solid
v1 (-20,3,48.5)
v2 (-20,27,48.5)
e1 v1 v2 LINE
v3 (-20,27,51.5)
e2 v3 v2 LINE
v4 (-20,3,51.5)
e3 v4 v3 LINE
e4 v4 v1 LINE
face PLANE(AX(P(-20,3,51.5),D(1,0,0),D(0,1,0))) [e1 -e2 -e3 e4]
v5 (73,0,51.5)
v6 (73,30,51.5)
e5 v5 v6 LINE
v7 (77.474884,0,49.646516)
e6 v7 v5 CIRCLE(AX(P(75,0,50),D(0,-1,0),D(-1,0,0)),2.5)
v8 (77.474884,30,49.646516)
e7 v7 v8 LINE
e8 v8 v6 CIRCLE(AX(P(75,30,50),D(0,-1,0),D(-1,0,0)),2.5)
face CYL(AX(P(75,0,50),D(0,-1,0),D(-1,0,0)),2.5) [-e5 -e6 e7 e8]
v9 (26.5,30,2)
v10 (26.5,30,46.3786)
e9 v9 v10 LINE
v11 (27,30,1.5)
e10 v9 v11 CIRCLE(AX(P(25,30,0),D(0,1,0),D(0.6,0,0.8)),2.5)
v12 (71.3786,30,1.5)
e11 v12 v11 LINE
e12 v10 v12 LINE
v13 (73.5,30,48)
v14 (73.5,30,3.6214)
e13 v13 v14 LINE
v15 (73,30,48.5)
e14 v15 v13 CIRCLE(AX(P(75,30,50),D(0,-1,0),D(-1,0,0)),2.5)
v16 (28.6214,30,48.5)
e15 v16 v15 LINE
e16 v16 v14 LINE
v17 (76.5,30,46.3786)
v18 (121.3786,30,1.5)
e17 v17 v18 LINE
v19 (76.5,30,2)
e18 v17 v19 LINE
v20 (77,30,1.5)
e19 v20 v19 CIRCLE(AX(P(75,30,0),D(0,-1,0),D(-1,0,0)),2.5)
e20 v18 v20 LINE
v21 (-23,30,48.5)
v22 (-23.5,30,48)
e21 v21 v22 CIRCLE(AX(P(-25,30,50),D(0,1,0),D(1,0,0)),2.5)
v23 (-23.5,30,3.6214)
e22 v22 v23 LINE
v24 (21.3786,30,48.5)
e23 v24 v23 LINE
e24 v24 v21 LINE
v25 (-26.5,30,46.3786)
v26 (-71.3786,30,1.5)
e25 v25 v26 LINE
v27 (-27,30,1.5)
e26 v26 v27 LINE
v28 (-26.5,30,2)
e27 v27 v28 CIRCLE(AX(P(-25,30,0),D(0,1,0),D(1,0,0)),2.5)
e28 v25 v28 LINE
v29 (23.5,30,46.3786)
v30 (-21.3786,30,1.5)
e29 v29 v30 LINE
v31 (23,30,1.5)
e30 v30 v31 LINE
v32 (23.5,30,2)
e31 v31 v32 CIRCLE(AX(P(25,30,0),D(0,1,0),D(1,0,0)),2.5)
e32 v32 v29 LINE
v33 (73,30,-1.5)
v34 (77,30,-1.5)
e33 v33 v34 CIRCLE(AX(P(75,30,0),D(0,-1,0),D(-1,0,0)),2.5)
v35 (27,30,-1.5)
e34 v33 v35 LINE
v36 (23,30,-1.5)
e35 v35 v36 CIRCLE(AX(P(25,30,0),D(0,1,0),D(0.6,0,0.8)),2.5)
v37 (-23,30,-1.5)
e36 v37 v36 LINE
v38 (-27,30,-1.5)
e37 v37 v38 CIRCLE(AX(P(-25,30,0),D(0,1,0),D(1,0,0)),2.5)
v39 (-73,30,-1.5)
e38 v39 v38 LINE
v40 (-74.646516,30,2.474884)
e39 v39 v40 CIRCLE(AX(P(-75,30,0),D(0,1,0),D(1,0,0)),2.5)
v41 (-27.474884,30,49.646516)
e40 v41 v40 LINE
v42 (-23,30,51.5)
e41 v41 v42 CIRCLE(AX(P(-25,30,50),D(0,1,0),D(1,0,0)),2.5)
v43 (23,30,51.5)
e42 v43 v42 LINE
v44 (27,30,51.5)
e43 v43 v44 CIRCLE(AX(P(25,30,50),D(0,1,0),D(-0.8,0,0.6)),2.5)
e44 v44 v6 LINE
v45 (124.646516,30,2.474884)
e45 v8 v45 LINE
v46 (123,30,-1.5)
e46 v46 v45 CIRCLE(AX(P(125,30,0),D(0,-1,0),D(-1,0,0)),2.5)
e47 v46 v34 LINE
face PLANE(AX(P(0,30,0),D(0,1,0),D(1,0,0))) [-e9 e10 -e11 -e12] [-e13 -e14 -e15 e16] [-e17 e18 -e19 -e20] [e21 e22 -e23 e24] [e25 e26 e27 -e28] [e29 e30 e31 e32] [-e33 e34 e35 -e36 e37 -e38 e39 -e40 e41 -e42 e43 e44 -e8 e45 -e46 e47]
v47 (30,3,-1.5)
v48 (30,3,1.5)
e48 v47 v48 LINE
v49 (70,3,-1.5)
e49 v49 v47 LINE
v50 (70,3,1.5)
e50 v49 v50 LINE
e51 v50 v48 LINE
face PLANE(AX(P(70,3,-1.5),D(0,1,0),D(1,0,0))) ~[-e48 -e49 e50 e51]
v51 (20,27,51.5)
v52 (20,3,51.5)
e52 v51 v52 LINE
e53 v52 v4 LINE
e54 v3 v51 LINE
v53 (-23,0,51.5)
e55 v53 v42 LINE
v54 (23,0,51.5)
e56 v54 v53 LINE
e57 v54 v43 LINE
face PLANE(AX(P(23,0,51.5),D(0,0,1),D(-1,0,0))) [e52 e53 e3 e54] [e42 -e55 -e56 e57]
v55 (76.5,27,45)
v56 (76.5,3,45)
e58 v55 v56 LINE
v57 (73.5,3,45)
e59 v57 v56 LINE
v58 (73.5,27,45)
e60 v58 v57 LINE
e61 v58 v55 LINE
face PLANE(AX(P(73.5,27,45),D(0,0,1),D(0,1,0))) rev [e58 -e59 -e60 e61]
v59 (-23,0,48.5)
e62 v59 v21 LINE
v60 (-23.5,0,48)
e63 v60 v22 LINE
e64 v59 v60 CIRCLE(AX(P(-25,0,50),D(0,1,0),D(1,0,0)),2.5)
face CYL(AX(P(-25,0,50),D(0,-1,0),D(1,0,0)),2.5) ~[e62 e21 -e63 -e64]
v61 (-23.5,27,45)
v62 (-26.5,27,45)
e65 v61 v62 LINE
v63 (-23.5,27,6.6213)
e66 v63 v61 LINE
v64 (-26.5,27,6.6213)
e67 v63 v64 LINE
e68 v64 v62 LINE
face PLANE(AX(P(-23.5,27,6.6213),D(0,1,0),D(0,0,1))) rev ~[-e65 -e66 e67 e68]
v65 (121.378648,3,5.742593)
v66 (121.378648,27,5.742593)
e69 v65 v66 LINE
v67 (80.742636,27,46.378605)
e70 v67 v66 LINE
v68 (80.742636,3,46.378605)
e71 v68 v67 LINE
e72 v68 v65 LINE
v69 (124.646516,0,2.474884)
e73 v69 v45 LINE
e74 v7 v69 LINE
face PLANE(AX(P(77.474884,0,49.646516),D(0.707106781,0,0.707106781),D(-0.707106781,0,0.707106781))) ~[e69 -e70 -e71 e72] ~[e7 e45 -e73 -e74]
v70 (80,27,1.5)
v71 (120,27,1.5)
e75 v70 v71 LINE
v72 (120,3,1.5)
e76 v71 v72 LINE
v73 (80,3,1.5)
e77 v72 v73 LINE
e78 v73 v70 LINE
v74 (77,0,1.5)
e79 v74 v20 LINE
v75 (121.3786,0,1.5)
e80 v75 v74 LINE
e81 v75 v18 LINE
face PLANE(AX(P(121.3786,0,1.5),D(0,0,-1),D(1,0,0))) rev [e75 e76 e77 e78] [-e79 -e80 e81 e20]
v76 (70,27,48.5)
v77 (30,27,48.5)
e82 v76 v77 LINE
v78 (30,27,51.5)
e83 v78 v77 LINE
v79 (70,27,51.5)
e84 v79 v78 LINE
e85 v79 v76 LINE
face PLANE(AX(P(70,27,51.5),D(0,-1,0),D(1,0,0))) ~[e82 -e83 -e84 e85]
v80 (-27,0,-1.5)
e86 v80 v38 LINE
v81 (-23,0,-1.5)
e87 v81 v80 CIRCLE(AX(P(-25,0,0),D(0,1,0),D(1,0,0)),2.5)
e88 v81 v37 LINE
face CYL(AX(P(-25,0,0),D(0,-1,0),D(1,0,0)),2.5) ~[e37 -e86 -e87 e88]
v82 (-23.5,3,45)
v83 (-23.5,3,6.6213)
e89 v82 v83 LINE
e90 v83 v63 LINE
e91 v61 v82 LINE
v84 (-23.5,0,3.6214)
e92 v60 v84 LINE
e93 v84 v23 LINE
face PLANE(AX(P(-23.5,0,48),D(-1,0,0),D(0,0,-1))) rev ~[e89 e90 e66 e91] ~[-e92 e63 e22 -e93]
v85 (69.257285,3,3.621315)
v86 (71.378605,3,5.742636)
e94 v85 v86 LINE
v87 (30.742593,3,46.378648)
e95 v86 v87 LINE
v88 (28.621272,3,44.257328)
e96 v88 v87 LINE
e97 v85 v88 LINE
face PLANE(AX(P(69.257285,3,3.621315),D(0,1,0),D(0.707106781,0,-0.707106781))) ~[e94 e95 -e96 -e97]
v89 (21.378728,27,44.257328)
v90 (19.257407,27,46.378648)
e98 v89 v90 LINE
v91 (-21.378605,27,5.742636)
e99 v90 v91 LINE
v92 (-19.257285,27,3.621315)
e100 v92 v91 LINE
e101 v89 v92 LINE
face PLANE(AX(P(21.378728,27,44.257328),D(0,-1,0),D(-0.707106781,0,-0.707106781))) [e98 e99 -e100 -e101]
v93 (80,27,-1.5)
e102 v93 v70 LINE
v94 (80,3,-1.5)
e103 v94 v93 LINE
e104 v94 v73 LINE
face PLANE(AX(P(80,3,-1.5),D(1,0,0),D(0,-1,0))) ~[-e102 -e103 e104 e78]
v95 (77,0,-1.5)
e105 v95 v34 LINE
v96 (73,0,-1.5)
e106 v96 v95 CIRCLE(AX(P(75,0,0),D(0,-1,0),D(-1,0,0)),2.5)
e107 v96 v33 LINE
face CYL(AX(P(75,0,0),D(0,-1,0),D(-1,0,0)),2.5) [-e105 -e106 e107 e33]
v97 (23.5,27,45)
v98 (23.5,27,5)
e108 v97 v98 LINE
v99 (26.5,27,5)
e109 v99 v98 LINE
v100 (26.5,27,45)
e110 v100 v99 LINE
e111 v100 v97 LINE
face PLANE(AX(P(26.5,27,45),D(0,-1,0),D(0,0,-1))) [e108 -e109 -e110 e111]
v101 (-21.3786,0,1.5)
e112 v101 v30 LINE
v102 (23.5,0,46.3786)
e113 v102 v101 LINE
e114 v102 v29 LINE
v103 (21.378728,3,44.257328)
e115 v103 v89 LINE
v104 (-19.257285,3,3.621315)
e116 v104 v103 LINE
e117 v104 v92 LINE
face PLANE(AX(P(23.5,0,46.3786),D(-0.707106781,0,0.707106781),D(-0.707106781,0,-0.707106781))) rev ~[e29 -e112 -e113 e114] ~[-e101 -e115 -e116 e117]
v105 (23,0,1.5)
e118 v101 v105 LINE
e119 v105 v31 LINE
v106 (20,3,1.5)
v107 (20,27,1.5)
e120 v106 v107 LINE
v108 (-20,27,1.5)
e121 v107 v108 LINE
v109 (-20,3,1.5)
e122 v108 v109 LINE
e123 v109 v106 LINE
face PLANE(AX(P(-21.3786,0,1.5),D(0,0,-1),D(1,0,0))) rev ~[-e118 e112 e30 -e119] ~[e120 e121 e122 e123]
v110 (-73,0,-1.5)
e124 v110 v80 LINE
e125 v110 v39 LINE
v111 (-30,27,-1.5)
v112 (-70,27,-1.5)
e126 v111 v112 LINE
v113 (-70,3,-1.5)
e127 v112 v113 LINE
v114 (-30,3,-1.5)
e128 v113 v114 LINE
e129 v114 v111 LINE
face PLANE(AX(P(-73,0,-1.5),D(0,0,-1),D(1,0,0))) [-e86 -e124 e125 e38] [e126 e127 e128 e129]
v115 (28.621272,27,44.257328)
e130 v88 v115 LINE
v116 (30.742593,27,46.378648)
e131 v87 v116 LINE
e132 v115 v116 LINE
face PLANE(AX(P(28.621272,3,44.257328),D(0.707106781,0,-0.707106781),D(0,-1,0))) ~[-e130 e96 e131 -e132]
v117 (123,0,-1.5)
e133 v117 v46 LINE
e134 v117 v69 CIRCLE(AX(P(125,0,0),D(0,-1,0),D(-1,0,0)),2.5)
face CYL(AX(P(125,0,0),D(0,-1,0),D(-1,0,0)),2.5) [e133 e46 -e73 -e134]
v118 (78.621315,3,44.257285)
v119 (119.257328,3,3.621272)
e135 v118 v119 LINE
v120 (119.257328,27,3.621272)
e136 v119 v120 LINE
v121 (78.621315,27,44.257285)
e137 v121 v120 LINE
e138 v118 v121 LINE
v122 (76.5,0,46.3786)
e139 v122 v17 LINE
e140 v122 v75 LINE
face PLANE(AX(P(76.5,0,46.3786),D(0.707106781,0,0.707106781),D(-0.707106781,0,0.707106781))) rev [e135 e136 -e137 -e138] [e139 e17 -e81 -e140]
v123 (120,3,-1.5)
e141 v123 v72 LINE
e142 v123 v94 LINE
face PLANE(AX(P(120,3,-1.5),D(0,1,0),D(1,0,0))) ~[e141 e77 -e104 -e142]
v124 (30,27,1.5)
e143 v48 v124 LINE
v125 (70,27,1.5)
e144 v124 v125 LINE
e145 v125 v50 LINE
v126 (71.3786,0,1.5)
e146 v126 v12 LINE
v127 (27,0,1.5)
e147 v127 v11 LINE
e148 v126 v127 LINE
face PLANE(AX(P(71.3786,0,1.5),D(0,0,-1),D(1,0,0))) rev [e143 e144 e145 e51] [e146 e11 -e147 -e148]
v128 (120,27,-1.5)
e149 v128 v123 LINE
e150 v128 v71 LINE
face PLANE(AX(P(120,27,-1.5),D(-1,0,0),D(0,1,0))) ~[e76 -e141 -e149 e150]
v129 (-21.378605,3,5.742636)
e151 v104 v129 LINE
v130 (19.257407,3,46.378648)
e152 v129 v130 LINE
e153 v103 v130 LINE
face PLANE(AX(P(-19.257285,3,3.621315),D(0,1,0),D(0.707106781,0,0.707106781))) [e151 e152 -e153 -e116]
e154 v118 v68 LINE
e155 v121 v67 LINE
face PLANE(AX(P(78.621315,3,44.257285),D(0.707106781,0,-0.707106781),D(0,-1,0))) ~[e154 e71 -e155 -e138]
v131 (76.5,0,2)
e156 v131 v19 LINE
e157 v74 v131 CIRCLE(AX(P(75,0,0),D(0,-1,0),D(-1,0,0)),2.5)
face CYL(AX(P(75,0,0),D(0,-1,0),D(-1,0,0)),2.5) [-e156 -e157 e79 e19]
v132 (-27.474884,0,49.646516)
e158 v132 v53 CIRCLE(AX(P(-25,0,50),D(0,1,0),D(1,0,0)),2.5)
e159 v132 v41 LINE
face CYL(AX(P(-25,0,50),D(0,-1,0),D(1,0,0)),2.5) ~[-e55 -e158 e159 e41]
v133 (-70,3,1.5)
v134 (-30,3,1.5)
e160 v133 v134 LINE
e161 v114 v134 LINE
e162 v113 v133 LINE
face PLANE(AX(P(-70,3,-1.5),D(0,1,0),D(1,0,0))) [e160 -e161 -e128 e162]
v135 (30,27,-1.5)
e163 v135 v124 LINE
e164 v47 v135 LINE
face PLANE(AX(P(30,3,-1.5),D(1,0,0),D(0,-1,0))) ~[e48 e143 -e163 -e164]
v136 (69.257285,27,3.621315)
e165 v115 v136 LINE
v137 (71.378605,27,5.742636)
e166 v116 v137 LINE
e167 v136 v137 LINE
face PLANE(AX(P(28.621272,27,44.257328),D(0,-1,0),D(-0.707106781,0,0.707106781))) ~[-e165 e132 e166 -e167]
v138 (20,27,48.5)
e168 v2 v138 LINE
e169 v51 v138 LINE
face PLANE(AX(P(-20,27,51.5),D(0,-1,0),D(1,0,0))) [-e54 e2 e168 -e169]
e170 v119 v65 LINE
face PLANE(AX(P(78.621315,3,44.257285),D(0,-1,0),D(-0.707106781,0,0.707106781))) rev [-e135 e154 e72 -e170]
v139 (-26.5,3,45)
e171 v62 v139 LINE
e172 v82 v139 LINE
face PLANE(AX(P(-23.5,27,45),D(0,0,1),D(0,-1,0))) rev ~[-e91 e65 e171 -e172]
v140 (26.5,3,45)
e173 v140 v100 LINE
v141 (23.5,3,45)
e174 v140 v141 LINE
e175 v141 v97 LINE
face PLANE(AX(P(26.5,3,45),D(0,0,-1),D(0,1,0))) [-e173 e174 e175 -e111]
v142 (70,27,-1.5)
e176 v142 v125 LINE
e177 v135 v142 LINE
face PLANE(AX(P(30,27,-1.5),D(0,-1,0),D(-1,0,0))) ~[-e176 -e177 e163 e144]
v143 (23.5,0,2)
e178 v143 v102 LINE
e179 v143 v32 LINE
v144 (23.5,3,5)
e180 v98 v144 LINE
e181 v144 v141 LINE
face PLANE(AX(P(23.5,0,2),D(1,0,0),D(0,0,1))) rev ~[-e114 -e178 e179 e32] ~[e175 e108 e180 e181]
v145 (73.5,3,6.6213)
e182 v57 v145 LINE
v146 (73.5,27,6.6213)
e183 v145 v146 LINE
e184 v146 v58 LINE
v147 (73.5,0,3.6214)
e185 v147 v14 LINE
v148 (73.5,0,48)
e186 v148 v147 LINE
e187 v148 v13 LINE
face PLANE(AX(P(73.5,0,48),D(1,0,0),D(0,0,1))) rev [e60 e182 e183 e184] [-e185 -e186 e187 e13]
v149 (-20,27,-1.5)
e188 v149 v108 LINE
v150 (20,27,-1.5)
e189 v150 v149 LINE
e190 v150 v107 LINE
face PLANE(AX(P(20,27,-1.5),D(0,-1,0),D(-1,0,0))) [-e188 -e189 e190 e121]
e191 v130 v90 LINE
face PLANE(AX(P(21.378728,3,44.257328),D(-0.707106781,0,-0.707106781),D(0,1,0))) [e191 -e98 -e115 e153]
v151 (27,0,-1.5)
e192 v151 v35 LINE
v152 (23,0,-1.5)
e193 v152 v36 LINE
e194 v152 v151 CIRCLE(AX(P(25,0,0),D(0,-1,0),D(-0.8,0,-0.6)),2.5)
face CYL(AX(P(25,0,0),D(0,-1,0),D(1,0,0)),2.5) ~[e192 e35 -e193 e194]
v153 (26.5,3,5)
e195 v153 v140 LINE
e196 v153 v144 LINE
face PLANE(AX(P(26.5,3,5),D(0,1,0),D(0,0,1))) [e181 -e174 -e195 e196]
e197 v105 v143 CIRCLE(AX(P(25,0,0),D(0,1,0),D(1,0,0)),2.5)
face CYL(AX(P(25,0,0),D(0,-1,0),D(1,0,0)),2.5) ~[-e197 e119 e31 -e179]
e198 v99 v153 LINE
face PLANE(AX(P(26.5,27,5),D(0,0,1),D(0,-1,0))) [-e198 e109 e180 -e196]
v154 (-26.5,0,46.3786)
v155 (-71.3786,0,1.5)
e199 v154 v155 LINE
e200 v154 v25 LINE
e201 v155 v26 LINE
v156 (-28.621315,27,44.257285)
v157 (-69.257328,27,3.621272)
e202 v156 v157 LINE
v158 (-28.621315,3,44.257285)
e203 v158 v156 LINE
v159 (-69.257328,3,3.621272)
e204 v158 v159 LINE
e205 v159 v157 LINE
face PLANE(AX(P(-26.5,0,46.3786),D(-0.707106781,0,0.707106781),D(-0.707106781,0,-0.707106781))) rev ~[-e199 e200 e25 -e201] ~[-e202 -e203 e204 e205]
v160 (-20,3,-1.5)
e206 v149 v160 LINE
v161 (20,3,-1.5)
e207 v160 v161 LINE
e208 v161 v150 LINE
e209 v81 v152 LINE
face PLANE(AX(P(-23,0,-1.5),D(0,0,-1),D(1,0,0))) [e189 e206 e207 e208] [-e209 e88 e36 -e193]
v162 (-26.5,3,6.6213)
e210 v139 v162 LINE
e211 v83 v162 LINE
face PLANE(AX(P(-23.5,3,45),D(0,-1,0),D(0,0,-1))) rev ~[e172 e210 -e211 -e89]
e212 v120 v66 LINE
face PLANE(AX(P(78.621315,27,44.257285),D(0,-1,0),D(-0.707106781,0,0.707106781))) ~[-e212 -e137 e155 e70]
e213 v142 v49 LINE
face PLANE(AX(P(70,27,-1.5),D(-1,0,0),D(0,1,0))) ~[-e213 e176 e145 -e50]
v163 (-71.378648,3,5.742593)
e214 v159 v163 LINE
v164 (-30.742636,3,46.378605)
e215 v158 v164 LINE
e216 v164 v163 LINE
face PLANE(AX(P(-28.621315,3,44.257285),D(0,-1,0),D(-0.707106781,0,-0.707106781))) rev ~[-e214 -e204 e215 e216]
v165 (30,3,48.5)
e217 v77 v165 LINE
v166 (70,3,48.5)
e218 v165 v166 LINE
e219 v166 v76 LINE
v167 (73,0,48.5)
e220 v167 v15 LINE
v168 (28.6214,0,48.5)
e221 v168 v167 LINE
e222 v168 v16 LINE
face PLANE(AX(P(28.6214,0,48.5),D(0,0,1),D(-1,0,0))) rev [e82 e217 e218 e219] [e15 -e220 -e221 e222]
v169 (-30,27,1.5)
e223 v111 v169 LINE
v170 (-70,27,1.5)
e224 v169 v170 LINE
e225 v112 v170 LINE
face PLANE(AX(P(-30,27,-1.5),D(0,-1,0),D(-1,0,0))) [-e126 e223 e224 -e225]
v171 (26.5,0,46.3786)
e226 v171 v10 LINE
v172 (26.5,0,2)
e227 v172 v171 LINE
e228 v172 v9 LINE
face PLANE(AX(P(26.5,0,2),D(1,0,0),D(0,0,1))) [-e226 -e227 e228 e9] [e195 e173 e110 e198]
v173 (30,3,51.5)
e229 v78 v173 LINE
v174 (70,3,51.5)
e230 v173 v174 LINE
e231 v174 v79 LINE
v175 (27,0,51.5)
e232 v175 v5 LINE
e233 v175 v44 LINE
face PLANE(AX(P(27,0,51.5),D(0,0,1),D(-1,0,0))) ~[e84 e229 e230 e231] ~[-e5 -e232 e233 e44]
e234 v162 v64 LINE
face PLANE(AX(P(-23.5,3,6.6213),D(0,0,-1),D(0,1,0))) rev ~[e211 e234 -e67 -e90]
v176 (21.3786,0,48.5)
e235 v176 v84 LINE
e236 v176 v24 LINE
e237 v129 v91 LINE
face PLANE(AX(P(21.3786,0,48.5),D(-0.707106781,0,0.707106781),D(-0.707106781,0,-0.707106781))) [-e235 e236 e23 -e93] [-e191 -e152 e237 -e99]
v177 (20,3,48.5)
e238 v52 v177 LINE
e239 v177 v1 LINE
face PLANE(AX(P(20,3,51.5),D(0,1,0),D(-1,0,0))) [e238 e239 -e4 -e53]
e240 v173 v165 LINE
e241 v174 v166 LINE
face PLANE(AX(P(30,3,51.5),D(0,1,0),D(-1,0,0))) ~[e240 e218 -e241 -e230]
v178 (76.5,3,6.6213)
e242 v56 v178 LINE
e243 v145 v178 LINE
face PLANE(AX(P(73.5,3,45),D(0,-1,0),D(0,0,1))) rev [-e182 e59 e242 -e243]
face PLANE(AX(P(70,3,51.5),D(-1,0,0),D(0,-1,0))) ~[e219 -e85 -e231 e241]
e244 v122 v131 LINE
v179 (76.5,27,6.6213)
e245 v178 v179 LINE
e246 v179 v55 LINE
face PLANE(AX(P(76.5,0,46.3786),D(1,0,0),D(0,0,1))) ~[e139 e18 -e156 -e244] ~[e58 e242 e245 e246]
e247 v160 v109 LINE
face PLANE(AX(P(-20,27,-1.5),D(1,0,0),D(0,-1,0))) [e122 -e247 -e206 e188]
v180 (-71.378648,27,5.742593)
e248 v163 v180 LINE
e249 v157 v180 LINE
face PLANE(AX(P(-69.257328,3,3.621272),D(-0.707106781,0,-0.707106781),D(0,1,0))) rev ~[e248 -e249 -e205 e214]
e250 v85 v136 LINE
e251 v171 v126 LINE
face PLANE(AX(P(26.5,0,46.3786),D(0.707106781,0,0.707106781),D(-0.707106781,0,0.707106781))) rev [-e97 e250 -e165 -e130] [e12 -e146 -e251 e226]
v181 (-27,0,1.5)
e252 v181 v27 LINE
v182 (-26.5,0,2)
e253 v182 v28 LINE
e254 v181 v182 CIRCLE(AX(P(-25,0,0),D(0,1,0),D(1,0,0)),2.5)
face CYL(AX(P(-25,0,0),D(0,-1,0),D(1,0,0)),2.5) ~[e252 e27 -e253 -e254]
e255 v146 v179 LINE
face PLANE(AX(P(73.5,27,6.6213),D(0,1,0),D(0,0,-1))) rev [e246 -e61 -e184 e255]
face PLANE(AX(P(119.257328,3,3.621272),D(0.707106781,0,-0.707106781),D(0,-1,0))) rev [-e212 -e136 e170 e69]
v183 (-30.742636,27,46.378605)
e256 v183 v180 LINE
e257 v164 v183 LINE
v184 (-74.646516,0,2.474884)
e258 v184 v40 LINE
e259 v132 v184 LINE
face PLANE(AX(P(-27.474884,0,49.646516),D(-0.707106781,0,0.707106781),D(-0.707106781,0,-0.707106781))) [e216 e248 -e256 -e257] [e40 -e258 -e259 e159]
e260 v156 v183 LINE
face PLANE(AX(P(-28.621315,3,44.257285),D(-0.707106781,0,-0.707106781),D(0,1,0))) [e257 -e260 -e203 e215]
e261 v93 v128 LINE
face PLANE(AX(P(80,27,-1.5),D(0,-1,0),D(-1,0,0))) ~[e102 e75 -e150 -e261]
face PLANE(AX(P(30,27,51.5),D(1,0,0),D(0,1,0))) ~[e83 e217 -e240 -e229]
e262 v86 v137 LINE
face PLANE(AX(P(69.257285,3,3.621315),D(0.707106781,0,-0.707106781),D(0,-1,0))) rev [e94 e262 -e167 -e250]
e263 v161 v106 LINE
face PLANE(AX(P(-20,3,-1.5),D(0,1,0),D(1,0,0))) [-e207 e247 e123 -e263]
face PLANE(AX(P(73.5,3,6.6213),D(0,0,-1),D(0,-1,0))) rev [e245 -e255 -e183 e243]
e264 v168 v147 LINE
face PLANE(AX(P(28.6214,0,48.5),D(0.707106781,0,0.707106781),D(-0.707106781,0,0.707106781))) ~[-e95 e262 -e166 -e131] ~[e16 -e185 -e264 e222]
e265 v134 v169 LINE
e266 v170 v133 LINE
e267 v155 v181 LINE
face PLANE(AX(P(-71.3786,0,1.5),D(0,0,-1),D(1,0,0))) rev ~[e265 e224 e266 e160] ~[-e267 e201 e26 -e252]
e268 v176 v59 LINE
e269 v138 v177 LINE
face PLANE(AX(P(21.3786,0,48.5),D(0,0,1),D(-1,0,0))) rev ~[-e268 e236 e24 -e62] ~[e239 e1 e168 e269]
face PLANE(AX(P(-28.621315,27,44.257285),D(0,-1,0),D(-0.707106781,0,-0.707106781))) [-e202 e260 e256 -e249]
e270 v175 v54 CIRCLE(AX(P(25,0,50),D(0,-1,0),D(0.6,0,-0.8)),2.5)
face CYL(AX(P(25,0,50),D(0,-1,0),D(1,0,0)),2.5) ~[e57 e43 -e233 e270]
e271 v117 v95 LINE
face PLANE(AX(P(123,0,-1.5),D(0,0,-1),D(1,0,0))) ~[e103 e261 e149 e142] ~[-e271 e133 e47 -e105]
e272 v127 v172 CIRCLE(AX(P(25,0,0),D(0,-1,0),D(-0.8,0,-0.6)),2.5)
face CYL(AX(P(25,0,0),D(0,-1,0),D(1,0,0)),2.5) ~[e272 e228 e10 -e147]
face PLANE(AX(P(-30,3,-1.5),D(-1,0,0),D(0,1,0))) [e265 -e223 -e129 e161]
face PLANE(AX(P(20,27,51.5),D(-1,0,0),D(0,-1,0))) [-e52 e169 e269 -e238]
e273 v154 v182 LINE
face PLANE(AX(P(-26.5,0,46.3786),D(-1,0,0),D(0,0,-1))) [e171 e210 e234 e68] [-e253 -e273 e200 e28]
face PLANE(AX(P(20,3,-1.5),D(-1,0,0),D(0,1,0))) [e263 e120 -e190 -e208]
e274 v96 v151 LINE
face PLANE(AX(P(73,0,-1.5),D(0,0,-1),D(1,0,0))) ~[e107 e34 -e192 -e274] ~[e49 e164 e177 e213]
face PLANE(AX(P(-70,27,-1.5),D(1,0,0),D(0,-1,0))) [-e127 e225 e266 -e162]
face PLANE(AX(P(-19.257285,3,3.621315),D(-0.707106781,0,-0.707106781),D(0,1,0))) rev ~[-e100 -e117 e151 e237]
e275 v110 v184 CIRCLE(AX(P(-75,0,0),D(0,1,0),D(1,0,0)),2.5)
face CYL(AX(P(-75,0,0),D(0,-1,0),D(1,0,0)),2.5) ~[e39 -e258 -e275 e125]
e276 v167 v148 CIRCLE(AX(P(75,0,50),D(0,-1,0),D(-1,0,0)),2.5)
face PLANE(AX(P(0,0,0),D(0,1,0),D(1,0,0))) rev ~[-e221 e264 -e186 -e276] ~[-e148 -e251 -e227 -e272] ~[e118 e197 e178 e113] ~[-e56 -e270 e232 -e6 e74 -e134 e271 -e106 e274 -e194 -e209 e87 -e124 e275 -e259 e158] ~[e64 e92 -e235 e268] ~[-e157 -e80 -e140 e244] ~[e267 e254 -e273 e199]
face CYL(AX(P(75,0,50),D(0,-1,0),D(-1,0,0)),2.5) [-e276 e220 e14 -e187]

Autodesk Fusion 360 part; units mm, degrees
sketch "Sketch1" plane through (0, 0, 0) normal (0, 1, 0) x (1, 0, 0)
  circle A0 centre (-75, 0) radius 2.5
  line L0 (-75, 0) -> (25, 0) construction
  circle A1 centre (25, 0) radius 2.5
  line L1 (25, 0) -> (25, -50) construction
  line L2 (25, -50) -> (-25, -50) construction
  line L3 (-25, -50) -> (-75, 0) construction
  line L4 (25, -50) -> (-25, 0) construction
  line L5 (-25, -50) -> (-25, 0) construction
  circle A2 centre (-25, -50) radius 2.5
  circle A3 centre (25, -50) radius 2.5
  circle A4 centre (-25, 0) radius 2.5
  line L6 (-23.9393, -48.9393) -> (-73.9393, 1.0607)
  line L7 (-26.0607, -51.0607) -> (-76.0607, -1.0607)
  line L8 (25, -48.5) -> (-25, -48.5)
  line L9 (25, -51.5) -> (-25, -51.5)
  line L10 (23.5, 0) -> (23.5, -50)
  line L11 (26.5, 0) -> (26.5, -50)
  line L12 (23.9393, -51.0607) -> (-26.0607, -1.0607)
  line L13 (26.0607, -48.9393) -> (-23.9393, 1.0607)
  line L14 (-75, -1.5) -> (25, -1.5)
  line L15 (-75, 1.5) -> (25, 1.5)
  line L16 (-23.5, -50) -> (-23.5, 0)
  line L17 (-26.5, -50) -> (-26.5, 0)
  dimension "d1" = 5
  dimension "d2" = 5
  dimension "d3" = 5
  dimension "d4" = 5
  dimension "d5" = 5
  dimension "d6" = 1.5
  dimension "d7" = -1.5
  dimension "d8" = 1.5
  dimension "d9" = -1.5
  dimension "d10" = 1.5
  dimension "d11" = -1.5
  dimension "d12" = -1.5
  dimension "d13" = 1.5
  dimension "d14" = 1.5
  dimension "d15" = -1.5
  dimension "d16" = 1.5
  dimension "d17" = -1.5
extrude "Extrude1" add sketch "Sketch1" along normal blind 30 contours A0 | A0 A4 L6 L14 L15 | A0 L6 L14 | A0 A2 L6 L7 L14 L17 | A4 L14 L15 | A4 L15 | A2 L6 L8 | A1 A4 L13 L14 L15 | A4 L14 L17 | A2 A4 L6 L12 L16 L17 | A2 L6 L17 | A2 A3 L8 L9 L12 | A1 L10 L14 | A4 L12 L14 L17 | A2 L6 L8 L16 | A3 L8 L10 | A4 L13 L14 | A1 L10 L14 | A4 L12 L14 L16 | A4 L12 L16 | A2 L8 L16 | A3 L8 L12 | A3 A4 L8 L10 L12 L13 L14 L16 | A4 L14 L16 | A1 A3 L10 L11 L13 | A3 L8 L10 | A3 L10 L13
sketch "Sketch2" plane through (26.5, 0, 0) normal (1, 0, 0) x (0, 1, 0)
  line L0 (0, 48) -> (0, 2)
  line L1 (0, 2) -> (30, 2)
  line L2 (30, 2) -> (30, 48)
  line L3 (30, 48) -> (0, 48)
  line L4 (3, 45) -> (27, 45)
  line L5 (27, 45) -> (27, 5)
  line L6 (27, 5) -> (3, 5)
  line L7 (3, 5) -> (3, 45)
  dimension "d20" = 3
  dimension "d21" = 3
  dimension "d22" = 3
  dimension "d23" = 3
extrude "Extrude2" cut sketch "Sketch2" against normal blind 3 contours L4 L5 L6 L7
sketch "Sketch3" plane through (-11.4393, 0, 11.4393) normal (0.7071, 0, -0.7071) x (0, 1, 0)
  line L0 (0, 49.4117) -> (0, -14.0563)
  line L1 (0, -14.0563) -> (30, -14.0563)
  line L2 (30, -14.0563) -> (30, 49.4117)
  line L3 (30, 49.4117) -> (0, 49.4117)
  line L4 (3, 46.4117) -> (27, 46.4117)
  line L5 (27, 46.4117) -> (27, -11.0563)
  line L6 (3, -11.0563) -> (3, 46.4117)
  line L7 (3, -11.0563) -> (27, -11.0563)
  dimension "d27" = 3
  dimension "d28" = 3
  dimension "d29" = 3
  dimension "d31" = 3
extrude "Extrude3" cut sketch "Sketch3" against normal blind 3 contours L4 L5 L6 L7
sketch "Sketch4" plane through (-23.5, 0, 0) normal (1, 0, 0) x (0, 1, 0)
  line L0 (0, 48) -> (0, 3.6213)
  line L1 (0, 3.6213) -> (30, 3.6213)
  line L2 (30, 3.6213) -> (30, 48)
  line L3 (30, 48) -> (0, 48)
  line L4 (3, 45) -> (3, 6.6213)
  line L5 (3, 6.6213) -> (27, 6.6213)
  line L6 (27, 6.6213) -> (27, 45)
  line L7 (27, 45) -> (3, 45)
  dimension "d34" = 3
  dimension "d35" = 3
  dimension "d36" = 3
  dimension "d37" = 3
extrude "Extrude4" cut sketch "Sketch4" against normal blind 3 contours L4 L5 L6 L7
sketch "Sketch5" plane through (-36.4393, 0, 36.4393) normal (0.7071, 0, -0.7071) x (0, 1, 0)
  line L0 (0, 14.0563) -> (0, -49.4117)
  line L1 (0, -49.4117) -> (30, -49.4117)
  line L2 (30, -49.4117) -> (30, 14.0563)
  line L3 (30, 14.0563) -> (0, 14.0563)
  line L4 (3, 11.0563) -> (27, 11.0563)
  line L5 (27, 11.0563) -> (27, -46.4117)
  line L6 (3, -46.4117) -> (27, -46.4117)
  line L7 (3, 11.0563) -> (3, -46.4117)
  dimension "d41" = 3
  dimension "d42" = 3
  dimension "d43" = 3
  dimension "d44" = 3
extrude "Extrude5" cut sketch "Sketch5" against normal blind 3 contours L4 L5 L6 L7
ref_plane "WorkPlane1" through (25, 15, 24.1893) normal (-1, 0, 0) x (0, 0, 1)
sketch "Sketch6" plane through (0, 0, 51.5) normal (0, 0, 1) x (-1, 0, 0)
  line L0 (23, 0) -> (-23, 0)
  line L1 (-23, 0) -> (-23, -30)
  line L2 (-23, -30) -> (23, -30)
  line L3 (23, -30) -> (23, 0)
  line L4 (20, -27) -> (-20, -27)
  line L5 (-20, -27) -> (-20, -3)
  line L6 (-20, -3) -> (20, -3)
  line L7 (20, -3) -> (20, -27)
  dimension "d47" = 3
  dimension "d48" = 3
  dimension "d49" = 3
  dimension "d50" = 3
extrude "Extrude6" cut sketch "Sketch6" against normal blind 3 contours L4 L5 L6 L7
sketch "Sketch7" plane through (0, 0, -1.5) normal (0, 0, -1) x (1, 0, 0)
  line L0 (23, 0) -> (-23, 0)
  line L1 (-23, 0) -> (-23, -30)
  line L2 (-23, -30) -> (23, -30)
  line L3 (23, -30) -> (23, 0)
  line L4 (20, -27) -> (-20, -27)
  line L5 (-20, -27) -> (-20, -3)
  line L6 (-20, -3) -> (20, -3)
  line L7 (20, -3) -> (20, -27)
  dimension "d53" = 3
  dimension "d54" = 3
  dimension "d55" = 3
  dimension "d56" = 3
extrude "Extrude7" cut sketch "Sketch7" against normal blind 3 contours L4 L5 L6 L7
sketch "Sketch8" plane through (0, 0, -1.5) normal (0, 0, -1) x (1, 0, 0)
  line L0 (-27, 0) -> (-73, 0)
  line L1 (-73, 0) -> (-73, -30)
  line L2 (-73, -30) -> (-27, -30)
  line L3 (-27, -30) -> (-27, 0)
  line L4 (-30, -27) -> (-70, -27)
  line L5 (-70, -27) -> (-70, -3)
  line L6 (-70, -3) -> (-30, -3)
  line L7 (-30, -3) -> (-30, -27)
  dimension "d59" = 3
  dimension "d60" = 3
  dimension "d61" = 3
  dimension "d62" = 3
extrude "Extrude8" cut sketch "Sketch8" against normal blind 3 contours L4 L5 L6 L7
mirror "Mirror1" about plane through (25, 15, 24.1893) normal (-1, 0, 0) of bodies 1 merged
